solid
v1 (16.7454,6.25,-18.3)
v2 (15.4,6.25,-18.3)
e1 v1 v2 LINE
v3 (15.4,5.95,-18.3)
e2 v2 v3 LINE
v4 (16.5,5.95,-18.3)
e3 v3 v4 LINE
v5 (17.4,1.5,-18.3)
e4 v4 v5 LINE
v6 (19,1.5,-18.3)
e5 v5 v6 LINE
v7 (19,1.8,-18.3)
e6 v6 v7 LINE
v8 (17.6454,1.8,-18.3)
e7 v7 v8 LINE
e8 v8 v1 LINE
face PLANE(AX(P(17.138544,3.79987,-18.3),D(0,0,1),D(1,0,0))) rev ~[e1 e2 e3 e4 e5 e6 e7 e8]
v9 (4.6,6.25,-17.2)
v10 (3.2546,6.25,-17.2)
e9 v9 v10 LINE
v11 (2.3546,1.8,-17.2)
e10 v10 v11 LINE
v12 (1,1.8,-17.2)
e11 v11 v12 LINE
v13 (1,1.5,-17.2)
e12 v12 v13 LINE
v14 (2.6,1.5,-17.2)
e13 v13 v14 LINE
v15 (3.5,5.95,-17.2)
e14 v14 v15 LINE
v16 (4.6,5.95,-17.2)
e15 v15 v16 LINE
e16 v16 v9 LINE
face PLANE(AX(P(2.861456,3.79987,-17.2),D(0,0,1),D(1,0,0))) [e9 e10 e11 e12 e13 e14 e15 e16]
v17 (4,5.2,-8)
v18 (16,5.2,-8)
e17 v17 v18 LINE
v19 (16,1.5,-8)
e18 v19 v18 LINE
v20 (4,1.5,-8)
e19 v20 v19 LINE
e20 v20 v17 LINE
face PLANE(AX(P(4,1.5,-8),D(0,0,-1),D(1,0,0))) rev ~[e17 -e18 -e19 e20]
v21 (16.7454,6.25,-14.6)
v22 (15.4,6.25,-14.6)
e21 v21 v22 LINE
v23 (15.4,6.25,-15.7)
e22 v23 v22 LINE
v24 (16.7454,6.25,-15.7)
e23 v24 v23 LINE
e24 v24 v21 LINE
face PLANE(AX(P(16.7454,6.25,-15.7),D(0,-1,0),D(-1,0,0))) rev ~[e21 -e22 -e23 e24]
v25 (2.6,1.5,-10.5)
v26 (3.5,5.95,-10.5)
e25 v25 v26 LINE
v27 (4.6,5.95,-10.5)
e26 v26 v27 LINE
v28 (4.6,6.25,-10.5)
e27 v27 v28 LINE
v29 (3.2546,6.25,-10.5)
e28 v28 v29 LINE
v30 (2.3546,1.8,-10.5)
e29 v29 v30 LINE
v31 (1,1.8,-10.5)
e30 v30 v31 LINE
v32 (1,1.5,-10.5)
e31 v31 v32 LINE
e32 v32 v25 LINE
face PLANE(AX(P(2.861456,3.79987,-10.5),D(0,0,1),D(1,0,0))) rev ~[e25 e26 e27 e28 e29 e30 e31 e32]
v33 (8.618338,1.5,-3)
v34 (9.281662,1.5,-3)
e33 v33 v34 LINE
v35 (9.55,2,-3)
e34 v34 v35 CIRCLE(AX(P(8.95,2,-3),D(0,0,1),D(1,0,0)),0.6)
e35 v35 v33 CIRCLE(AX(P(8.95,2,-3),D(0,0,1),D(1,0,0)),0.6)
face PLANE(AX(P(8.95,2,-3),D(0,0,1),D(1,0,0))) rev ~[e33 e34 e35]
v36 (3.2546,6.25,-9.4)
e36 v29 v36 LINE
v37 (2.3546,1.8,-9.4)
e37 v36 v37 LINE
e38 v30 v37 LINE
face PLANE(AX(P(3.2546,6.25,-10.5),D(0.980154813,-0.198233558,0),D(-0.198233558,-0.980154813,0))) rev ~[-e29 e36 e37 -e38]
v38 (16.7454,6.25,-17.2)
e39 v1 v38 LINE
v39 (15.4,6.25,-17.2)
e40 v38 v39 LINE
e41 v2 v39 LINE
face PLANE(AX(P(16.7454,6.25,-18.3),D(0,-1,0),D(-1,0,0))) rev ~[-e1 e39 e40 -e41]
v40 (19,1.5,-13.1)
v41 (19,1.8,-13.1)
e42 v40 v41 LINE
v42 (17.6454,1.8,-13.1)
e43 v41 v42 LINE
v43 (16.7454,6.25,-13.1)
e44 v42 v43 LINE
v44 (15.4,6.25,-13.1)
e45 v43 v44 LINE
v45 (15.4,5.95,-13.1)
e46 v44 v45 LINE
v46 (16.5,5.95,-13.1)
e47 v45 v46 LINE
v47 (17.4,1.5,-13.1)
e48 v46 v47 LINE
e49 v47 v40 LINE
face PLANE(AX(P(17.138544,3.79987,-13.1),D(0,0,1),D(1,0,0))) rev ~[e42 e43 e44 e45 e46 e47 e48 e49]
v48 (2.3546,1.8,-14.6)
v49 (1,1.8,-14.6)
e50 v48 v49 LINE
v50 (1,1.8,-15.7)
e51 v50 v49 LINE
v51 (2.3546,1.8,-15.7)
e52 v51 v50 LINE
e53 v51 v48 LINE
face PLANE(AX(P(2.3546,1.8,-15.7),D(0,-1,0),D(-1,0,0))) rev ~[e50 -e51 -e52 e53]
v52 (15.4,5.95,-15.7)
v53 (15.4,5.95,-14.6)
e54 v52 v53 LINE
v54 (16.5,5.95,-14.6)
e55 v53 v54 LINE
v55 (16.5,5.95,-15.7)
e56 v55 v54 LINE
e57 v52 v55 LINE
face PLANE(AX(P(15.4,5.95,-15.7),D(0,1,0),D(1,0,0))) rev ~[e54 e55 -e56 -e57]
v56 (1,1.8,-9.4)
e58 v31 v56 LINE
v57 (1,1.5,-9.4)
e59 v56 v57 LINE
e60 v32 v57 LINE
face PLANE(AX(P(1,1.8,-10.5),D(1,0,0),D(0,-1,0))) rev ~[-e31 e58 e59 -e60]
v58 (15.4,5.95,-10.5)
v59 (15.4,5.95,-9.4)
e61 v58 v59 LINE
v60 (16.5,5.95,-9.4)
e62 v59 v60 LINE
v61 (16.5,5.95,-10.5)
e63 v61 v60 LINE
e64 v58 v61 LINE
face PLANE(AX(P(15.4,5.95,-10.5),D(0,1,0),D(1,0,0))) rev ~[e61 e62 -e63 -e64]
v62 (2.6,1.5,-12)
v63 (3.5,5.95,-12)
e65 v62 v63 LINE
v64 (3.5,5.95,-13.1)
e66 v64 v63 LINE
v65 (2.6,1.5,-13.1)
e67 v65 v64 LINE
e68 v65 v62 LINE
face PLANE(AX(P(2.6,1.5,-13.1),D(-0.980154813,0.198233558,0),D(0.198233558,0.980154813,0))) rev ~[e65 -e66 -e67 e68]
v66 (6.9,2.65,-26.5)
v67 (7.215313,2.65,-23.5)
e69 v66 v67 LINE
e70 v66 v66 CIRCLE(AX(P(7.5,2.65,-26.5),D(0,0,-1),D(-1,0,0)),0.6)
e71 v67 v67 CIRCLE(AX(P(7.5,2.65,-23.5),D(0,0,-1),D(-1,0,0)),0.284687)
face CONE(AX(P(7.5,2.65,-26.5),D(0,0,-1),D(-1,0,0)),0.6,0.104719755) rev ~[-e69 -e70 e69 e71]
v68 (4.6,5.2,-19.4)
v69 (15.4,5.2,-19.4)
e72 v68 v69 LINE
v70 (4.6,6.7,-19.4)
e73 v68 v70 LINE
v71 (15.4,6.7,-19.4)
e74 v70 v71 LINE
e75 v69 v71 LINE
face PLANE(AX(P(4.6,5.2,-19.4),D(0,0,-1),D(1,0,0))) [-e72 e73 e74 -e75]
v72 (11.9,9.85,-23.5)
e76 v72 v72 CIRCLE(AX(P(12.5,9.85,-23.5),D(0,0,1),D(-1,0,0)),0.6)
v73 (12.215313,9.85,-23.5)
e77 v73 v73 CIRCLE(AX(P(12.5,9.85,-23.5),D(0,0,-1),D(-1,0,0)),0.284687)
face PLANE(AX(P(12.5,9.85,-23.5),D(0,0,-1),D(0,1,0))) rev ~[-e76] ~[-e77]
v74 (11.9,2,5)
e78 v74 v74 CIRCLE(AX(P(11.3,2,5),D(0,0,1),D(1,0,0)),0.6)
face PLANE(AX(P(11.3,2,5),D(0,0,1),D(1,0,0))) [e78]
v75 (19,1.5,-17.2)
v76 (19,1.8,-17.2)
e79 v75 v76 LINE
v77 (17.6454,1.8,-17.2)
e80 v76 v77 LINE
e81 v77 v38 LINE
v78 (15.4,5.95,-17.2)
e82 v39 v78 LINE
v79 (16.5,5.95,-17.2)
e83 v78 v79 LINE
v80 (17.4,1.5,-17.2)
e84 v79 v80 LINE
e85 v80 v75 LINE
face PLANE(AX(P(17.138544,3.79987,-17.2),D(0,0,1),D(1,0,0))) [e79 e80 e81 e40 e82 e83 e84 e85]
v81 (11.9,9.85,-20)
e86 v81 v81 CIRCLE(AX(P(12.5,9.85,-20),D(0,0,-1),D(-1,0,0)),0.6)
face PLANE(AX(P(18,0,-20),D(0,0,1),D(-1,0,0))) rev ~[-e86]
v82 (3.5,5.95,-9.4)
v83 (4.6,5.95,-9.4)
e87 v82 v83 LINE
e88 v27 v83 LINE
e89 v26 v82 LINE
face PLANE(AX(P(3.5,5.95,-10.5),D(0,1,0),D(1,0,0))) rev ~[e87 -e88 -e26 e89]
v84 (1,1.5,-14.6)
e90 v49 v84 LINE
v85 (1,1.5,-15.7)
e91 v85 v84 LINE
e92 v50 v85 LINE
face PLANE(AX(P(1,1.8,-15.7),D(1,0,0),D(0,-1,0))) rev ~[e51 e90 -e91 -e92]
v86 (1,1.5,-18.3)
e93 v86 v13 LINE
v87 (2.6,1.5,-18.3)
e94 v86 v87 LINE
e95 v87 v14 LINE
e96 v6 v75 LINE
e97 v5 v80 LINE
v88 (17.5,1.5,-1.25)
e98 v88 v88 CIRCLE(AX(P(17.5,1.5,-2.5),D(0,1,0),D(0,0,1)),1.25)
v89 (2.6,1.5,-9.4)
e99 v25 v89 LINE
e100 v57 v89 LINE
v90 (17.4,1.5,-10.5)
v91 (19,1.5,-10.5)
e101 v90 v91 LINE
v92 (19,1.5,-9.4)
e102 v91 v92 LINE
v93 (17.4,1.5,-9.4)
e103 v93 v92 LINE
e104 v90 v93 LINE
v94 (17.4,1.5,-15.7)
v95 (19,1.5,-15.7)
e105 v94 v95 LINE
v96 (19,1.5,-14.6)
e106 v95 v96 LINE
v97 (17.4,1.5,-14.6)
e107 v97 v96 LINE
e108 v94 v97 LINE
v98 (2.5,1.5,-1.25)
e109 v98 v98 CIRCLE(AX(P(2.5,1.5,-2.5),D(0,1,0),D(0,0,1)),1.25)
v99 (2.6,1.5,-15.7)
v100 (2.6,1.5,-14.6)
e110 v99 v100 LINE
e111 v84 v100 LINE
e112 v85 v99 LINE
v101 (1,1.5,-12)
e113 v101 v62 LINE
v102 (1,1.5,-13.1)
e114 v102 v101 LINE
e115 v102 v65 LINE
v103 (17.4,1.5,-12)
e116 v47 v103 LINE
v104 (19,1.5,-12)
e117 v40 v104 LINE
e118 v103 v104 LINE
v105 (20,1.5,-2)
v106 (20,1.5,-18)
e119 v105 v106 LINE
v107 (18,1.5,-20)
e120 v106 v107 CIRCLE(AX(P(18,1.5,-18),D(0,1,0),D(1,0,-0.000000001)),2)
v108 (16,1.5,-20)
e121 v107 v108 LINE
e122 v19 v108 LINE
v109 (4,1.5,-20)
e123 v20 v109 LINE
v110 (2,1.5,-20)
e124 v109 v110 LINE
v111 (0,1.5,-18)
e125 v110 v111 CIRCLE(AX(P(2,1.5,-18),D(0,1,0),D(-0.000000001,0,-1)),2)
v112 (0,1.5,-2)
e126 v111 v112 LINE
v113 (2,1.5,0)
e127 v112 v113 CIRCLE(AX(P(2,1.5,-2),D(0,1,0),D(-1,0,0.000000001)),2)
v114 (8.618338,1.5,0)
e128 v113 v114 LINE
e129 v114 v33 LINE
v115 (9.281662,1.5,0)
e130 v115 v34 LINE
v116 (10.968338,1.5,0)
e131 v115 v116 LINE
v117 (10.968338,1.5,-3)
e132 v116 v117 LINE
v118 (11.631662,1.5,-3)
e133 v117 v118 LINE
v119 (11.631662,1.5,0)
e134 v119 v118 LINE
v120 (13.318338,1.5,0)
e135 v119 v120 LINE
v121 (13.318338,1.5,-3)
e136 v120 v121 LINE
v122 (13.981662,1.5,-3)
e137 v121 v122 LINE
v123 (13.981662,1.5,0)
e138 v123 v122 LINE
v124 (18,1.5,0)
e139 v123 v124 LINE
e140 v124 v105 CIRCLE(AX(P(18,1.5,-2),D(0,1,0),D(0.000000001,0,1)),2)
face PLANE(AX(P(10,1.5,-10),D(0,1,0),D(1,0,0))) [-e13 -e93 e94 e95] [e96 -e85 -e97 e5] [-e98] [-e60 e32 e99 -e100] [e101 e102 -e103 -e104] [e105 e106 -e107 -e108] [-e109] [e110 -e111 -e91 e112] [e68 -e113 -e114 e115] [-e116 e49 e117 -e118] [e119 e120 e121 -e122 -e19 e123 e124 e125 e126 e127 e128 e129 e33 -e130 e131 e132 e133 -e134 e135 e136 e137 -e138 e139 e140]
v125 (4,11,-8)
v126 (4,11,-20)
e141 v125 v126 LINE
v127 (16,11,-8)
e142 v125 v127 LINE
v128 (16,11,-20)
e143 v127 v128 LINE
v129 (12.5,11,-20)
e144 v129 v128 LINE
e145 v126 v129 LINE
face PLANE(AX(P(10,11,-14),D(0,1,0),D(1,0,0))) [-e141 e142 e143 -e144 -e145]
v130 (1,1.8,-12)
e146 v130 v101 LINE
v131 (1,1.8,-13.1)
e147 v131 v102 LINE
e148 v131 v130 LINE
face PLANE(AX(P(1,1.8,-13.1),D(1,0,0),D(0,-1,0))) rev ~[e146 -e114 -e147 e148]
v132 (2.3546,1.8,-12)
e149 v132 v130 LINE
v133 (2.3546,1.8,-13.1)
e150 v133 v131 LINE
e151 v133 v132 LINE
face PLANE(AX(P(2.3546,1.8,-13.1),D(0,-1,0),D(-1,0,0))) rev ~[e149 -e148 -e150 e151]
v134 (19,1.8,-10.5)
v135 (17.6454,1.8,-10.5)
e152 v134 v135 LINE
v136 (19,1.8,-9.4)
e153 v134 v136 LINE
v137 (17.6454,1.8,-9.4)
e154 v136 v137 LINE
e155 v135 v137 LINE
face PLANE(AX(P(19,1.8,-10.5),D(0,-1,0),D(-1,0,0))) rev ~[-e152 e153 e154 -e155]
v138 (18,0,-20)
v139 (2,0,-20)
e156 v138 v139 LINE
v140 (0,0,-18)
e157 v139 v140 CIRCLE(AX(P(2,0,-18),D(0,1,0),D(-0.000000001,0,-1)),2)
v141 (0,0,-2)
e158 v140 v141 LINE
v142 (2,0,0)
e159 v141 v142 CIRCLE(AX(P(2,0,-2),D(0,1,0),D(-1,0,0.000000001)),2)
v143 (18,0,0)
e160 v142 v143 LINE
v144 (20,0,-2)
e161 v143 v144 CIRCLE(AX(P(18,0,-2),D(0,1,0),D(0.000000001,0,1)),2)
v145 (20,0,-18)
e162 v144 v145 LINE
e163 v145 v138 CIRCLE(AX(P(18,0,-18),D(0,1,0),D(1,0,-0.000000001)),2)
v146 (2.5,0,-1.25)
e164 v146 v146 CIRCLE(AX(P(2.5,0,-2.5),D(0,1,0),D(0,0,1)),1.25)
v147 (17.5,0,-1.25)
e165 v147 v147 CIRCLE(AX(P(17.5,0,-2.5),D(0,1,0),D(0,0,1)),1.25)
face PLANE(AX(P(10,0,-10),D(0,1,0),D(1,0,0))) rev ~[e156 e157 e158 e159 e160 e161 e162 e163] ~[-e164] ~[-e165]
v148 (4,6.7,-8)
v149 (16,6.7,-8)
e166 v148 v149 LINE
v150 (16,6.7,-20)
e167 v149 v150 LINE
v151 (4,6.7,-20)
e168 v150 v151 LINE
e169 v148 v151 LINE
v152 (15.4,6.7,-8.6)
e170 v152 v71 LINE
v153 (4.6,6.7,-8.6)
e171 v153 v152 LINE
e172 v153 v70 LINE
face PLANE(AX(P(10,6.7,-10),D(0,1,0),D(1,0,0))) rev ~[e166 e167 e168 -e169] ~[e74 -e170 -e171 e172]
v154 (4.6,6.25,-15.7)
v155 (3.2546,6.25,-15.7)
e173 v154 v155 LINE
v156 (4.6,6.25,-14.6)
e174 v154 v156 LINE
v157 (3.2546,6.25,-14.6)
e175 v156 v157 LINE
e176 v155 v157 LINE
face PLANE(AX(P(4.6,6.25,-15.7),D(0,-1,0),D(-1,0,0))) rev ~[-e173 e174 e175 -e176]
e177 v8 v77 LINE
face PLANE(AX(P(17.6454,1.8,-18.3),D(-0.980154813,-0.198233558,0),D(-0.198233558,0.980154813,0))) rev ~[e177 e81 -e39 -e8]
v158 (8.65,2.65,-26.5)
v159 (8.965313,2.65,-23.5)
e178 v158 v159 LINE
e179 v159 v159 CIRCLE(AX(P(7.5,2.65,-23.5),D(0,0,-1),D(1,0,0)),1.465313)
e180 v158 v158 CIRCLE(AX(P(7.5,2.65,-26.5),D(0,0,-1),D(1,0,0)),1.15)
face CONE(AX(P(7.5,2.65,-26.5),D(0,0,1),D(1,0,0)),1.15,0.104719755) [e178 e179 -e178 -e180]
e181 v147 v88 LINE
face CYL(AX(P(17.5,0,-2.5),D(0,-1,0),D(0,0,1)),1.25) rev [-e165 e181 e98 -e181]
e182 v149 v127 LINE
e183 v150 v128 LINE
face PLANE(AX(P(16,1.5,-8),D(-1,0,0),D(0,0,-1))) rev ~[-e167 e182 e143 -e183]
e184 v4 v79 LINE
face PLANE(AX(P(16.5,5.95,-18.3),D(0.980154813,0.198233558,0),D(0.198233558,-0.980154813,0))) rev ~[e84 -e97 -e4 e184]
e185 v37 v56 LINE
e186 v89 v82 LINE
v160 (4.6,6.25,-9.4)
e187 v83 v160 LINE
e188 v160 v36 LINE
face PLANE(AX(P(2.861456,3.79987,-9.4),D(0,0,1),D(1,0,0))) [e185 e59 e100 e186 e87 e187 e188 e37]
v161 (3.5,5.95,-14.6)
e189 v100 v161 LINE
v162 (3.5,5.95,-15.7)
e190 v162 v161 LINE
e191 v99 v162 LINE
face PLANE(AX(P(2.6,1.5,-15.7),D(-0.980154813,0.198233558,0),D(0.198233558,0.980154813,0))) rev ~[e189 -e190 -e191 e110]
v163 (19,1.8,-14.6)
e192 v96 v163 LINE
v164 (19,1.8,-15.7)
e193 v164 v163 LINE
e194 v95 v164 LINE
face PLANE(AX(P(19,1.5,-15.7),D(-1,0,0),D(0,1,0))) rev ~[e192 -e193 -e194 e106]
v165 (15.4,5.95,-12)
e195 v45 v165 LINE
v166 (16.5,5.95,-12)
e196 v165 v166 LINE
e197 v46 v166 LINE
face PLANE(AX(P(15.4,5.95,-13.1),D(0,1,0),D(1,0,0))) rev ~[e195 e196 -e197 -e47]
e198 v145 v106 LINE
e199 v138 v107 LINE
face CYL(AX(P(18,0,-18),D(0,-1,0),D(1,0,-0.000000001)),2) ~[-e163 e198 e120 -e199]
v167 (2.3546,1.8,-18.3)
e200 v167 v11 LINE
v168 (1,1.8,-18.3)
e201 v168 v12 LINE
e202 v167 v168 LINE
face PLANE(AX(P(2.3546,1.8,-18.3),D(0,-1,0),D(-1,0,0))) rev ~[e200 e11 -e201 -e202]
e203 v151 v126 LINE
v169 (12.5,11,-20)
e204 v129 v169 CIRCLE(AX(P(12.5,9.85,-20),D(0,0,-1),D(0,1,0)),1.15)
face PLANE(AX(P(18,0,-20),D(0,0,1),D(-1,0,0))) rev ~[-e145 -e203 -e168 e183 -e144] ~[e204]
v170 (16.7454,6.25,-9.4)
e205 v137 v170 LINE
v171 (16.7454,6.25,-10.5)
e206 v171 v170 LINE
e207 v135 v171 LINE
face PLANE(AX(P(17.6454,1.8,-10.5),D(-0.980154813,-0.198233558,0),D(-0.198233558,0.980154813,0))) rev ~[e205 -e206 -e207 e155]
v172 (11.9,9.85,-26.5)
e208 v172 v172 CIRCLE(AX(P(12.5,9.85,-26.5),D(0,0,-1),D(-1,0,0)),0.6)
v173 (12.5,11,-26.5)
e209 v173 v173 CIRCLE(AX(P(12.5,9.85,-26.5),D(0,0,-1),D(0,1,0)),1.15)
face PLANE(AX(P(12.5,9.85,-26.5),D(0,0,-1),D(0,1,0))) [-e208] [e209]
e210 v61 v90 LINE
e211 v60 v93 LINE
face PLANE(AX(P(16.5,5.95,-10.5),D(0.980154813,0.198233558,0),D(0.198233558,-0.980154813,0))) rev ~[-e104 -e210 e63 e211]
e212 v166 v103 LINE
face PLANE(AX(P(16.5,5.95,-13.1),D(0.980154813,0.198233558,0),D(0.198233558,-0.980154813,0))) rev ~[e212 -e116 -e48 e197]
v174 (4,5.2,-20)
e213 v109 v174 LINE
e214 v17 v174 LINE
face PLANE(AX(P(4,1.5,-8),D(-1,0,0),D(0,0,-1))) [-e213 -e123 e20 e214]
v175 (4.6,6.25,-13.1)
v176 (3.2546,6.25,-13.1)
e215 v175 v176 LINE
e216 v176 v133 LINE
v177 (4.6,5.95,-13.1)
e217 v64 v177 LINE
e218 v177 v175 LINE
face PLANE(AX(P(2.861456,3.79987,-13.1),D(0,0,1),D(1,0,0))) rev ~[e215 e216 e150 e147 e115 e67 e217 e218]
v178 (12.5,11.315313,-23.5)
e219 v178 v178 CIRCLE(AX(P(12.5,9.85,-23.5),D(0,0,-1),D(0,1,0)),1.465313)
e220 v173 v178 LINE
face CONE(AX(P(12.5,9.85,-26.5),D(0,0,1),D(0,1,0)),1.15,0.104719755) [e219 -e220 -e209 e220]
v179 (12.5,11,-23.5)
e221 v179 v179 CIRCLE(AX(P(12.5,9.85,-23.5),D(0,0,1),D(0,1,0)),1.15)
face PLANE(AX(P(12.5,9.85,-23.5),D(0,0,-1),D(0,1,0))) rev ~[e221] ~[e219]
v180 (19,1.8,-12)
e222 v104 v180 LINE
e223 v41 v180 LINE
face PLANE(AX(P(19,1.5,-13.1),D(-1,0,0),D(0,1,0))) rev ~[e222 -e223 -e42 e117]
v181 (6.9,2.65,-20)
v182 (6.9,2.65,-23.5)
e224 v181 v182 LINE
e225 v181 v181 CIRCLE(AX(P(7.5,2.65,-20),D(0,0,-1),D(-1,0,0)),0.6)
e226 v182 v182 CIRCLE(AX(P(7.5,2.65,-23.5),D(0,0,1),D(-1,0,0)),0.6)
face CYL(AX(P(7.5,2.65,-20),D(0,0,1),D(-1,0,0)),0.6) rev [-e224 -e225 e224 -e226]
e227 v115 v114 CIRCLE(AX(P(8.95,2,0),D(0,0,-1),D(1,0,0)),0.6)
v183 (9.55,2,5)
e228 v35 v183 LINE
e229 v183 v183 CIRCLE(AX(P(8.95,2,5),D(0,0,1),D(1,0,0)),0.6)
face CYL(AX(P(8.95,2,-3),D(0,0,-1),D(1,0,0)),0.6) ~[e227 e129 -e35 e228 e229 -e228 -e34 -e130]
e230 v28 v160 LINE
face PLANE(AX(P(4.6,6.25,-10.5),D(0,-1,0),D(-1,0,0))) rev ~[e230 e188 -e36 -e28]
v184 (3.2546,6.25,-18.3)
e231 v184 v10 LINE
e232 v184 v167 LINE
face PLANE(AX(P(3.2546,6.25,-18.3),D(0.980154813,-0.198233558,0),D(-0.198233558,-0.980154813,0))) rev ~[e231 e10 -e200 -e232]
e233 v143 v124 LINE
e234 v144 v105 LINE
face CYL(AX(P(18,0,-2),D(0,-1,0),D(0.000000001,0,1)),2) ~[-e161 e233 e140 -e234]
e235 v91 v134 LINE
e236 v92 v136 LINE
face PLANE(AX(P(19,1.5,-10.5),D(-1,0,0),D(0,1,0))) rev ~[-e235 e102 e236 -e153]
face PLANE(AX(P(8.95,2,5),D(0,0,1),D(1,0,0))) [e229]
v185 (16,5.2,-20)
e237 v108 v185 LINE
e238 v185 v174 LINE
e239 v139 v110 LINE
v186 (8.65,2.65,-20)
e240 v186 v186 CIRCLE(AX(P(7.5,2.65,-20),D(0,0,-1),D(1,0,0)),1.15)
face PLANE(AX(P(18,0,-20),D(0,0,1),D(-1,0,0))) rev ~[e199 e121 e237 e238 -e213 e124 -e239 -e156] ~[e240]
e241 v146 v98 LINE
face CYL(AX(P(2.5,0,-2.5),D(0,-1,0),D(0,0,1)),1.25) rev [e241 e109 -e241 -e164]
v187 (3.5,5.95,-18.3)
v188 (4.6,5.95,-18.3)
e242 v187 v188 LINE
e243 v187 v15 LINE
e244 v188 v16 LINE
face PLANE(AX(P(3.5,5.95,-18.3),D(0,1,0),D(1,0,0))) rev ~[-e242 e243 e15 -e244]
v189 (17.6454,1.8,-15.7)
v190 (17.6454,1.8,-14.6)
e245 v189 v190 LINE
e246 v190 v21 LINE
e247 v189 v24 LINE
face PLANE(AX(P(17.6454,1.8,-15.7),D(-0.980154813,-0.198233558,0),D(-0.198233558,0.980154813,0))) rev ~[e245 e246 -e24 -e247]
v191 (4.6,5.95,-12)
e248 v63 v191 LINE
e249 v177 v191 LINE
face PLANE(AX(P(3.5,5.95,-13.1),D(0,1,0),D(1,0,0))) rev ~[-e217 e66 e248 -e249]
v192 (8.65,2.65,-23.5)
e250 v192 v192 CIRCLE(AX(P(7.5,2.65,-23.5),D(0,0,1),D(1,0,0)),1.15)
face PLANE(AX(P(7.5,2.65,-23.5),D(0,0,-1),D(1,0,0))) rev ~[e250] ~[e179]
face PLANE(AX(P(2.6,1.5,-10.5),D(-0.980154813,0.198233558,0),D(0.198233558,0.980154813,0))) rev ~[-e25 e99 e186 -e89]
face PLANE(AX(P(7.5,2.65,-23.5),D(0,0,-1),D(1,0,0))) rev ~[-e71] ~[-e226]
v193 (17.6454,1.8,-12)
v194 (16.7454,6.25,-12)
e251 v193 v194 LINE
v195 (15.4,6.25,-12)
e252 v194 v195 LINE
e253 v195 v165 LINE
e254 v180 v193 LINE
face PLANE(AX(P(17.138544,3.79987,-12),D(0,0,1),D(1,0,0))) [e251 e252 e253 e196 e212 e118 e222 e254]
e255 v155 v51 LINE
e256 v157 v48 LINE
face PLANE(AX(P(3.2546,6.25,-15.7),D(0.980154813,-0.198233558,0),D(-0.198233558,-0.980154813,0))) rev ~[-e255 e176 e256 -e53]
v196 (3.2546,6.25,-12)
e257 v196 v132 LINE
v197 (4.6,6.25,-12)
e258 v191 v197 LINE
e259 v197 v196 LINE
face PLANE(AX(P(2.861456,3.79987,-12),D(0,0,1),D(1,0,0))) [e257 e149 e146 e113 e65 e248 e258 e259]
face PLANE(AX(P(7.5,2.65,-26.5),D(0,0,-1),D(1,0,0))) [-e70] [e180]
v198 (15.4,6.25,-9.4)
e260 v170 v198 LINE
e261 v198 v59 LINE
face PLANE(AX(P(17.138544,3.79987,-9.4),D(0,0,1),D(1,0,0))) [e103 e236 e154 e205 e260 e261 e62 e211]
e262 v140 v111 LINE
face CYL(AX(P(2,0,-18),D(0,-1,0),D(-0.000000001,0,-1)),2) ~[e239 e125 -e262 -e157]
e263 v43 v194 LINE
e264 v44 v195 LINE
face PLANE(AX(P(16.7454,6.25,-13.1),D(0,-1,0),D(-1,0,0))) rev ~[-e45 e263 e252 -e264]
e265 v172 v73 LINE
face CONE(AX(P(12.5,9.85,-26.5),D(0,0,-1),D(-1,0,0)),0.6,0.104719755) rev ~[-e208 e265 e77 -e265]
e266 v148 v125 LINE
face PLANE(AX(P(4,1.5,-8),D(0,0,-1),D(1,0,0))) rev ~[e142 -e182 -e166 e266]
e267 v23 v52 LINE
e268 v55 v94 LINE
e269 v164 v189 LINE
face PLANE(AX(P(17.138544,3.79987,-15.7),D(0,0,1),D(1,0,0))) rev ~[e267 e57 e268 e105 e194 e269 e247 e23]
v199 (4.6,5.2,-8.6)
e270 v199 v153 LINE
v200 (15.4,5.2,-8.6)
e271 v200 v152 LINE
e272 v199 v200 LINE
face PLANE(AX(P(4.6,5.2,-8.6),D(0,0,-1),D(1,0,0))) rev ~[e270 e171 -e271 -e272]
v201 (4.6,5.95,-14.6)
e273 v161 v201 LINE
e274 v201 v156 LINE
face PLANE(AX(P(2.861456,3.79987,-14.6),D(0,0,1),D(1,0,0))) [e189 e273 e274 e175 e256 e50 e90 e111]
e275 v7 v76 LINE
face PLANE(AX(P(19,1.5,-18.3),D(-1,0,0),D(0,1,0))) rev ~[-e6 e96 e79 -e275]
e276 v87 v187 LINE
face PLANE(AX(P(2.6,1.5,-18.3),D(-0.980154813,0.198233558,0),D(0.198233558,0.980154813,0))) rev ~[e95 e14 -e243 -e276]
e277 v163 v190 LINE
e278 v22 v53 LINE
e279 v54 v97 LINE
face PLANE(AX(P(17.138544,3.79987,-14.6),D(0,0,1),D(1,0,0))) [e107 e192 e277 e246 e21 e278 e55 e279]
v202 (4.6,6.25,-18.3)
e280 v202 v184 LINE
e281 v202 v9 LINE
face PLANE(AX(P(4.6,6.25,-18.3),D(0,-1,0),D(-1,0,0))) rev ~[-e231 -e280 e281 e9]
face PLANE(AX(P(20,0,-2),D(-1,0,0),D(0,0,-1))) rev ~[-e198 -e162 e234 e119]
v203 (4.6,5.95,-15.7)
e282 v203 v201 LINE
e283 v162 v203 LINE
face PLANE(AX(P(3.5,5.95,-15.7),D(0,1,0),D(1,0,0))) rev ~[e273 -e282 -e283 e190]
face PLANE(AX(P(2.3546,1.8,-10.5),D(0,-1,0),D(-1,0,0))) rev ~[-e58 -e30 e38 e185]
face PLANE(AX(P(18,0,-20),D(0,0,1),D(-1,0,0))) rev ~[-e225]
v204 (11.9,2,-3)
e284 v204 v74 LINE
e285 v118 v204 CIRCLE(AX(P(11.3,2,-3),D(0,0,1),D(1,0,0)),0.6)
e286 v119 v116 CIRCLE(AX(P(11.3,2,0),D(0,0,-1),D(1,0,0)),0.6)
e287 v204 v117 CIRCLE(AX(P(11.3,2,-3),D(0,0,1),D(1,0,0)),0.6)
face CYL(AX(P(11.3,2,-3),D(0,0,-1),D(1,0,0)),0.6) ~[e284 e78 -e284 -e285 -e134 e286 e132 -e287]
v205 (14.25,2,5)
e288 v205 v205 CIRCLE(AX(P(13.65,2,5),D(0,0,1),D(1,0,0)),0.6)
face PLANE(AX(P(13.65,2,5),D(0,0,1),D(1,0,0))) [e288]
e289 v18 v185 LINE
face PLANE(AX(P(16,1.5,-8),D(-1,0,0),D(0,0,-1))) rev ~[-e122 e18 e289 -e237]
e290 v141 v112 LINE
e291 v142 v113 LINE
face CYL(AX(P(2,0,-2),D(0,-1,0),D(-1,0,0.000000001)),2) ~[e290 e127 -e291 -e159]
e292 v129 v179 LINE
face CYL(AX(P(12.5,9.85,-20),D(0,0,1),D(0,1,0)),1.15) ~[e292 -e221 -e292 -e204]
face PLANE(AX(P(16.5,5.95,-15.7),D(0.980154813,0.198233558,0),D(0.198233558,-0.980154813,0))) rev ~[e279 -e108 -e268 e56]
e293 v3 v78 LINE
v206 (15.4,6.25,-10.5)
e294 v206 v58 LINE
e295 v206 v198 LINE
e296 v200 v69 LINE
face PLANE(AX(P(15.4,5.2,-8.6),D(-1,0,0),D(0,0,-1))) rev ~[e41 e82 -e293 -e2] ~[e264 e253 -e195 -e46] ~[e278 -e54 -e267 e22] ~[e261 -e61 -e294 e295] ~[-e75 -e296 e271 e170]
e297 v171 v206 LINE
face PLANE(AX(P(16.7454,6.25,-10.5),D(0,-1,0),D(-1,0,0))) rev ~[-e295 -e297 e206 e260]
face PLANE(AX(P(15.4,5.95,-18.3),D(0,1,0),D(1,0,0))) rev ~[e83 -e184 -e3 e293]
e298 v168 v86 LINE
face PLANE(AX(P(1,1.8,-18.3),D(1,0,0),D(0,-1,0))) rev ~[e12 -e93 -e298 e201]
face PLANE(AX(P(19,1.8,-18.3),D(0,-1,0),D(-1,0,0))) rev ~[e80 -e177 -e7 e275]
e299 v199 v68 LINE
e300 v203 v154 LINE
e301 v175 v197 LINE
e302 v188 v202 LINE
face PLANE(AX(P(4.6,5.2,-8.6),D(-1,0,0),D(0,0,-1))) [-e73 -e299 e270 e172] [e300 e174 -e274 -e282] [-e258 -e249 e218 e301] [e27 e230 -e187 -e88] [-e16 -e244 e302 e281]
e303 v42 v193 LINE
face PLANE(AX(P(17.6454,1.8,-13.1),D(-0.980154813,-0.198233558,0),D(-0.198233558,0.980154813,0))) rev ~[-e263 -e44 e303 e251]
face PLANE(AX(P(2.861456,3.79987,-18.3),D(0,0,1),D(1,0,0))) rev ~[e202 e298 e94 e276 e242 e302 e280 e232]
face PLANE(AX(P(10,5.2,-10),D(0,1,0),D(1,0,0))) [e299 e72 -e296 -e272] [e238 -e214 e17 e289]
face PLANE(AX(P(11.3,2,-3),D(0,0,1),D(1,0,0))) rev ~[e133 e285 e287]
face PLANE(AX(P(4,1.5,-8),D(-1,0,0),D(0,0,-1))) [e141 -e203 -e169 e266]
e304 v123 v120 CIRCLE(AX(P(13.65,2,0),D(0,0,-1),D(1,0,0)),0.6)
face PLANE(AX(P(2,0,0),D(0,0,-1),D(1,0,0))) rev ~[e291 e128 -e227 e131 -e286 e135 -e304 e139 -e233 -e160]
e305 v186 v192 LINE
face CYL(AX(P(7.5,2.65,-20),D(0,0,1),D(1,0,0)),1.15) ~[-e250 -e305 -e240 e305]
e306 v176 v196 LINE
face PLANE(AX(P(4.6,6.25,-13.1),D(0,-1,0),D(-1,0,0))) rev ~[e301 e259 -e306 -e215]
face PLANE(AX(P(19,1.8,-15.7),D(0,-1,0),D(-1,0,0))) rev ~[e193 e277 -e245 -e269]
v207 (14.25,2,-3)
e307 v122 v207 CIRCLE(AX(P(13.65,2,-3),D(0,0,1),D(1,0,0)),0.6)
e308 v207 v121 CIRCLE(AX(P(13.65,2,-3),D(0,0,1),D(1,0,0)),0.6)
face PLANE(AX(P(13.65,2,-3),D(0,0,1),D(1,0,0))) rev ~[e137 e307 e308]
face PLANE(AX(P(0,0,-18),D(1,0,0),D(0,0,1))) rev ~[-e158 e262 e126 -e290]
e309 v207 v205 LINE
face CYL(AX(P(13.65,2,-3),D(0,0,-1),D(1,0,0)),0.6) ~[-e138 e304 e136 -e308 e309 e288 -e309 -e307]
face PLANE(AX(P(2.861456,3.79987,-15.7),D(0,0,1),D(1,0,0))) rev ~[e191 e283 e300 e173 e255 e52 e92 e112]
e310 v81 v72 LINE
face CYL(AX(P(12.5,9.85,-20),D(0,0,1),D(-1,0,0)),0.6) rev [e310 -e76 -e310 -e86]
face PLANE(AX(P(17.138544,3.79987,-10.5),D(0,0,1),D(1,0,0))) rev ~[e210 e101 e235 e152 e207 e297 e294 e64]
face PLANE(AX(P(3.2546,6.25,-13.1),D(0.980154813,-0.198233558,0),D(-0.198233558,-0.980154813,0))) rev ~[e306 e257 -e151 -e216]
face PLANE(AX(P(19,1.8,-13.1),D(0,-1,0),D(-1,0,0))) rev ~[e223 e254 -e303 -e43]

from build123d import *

# Parameters (mm, degrees)
SKETCH_1_R                = 1.25
EXTRUDE_1_DEPTH           = 1.5
SKETCH_2_W                = 12
SKETCH_2_H                = 12
EXTRUDE_2_DEPTH           = 9.5
CUT_EXTRUDE_START         = 3.7
SKETCH_3_OUTSIDE_W        = 28.07
SKETCH_3_OUTSIDE_H        = 28.07
SKETCH_3_OUTSIDE_W_2      = 10.8
SKETCH_3_OUTSIDE_H_2      = 10.8
CUT_EXTRUDE_1_DEPTH       = 1.5
SKETCH_4_R                = 1.15
SKETCH_4_R_2              = 0.6
EXTRUDE_3_DEPTH           = 6.5
SKETCH_5_R                = 1.15
SKETCH_5_R_2              = 0.6
EXTRUDE_4_DEPTH           = 3
EXTRUDE_4_DRAFT           = 6
EXTRUDE_4_PROFILE_2_DEPTH = 3
EXTRUDE_4_PROFILE_2_DRAFT = 6
EXTRUDE_START             = -1.7
EXTRUDE_1_2_DEPTH         = 1.1
PATTERN_LINEAR_1_COUNT    = 4
PATTERN_LINEAR_1_PITCH    = 2.6
EXTRUDE_5_DEPTH           = 5
EXTRUDE_5_DEPTH_BACK      = 3
SKETCH_7_R                = 0.6


with BuildPart() as part:
    # Эскиз1 → Extrude 1 (new body)
    with BuildSketch(Plane(origin=(0, 0, 0), x_dir=(1, 0, 0), z_dir=(0, 1, 0))):
        with BuildLine():
            Line((2, 0), (18, 0))
            ThreePointArc((18, 0), (19.414213562, 0.585786438), (20, 2))
            Line((20, 2), (20, 18))
            ThreePointArc((20, 18), (19.414213562, 19.414213562), (18, 20))
            Line((18, 20), (2, 20))
            ThreePointArc((2, 20), (0.585786438, 19.414213562), (0, 18))
            Line((0, 18), (0, 2))
            ThreePointArc((0, 2), (0.585786438, 0.585786438), (2, 0))
        make_face()
        with Locations(Location((2.5, 2.5, 0), (0, 0, 270))):
            Circle(SKETCH_1_R, mode=Mode.SUBTRACT)
        with Locations(Location((17.5, 2.5, 0), (0, 0, 270))):
            Circle(SKETCH_1_R, mode=Mode.SUBTRACT)
    extrude(amount=EXTRUDE_1_DEPTH)

    # Эскиз2 → Бобышка-Вытянуть2 (add)
    with BuildSketch(Plane(origin=(0, 1.5, 0), x_dir=(1, 0, 0), z_dir=(0, 1, 0))):
        with Locations((10, 14)):
            Rectangle(SKETCH_2_W, SKETCH_2_H)
    extrude(amount=EXTRUDE_2_DEPTH)

    # Эскиз3 outside → Вырез-Вытянуть1 (cut)
    with BuildSketch(Plane(origin=(0, 1.5, 0), x_dir=(1, 0, 0), z_dir=(0, 1, 0)).offset(CUT_EXTRUDE_START)):
        with Locations((10, 10)):
            Rectangle(SKETCH_3_OUTSIDE_W, SKETCH_3_OUTSIDE_H)
        with Locations((10, 14)):
            Rectangle(SKETCH_3_OUTSIDE_W_2, SKETCH_3_OUTSIDE_H_2, mode=Mode.SUBTRACT)
    extrude(amount=CUT_EXTRUDE_1_DEPTH, mode=Mode.SUBTRACT)

    # Эскиз4 → Бобышка-Вытянуть3 (add)
    # profile 1 of 2: a face of its own
    with BuildSketch(Plane(origin=(0, 0, -20), x_dir=(-1, 0, 0), z_dir=(0, 0, -1))):
        with Locations(Location((-12.5, 9.85, 0), (0, 0, 90))):
            Circle(SKETCH_4_R)
        with Locations((-12.5, 9.85)):
            Circle(SKETCH_4_R_2, mode=Mode.SUBTRACT)
    # profile 2 of 2: a face of its own
    with BuildSketch(Plane(origin=(0, 0, -20), x_dir=(-1, 0, 0), z_dir=(0, 0, -1))):
        with Locations(Location((-7.5, 2.65, 0), (0, 0, 180))):
            Circle(SKETCH_4_R)
        with Locations((-7.5, 2.65)):
            Circle(SKETCH_4_R_2, mode=Mode.SUBTRACT)
    extrude(amount=EXTRUDE_3_DEPTH)


with BuildPart() as extrude_4_tool:
    # Эскиз5 → Бобышка-Вытянуть4 (with draft: the straight prism first)
    with BuildSketch(Plane(origin=(0, 0, -26.5), x_dir=(-1, 0, 0), z_dir=(0, 0, -1))):
        with Locations(Location((-7.5, 2.65, 0), (0, 0, 180))):
            Circle(SKETCH_5_R)
        with Locations((-7.5, 2.65)):
            Circle(SKETCH_5_R_2, mode=Mode.SUBTRACT)
    extrude(amount=-EXTRUDE_4_DEPTH)
    # Бобышка-Вытянуть4: the draft: its side faces are tilted about the plane it starts from
    extrude_4_sides = [extrude_4_tool.faces().sort_by_distance(p)[0] for p in [
        (6.35, 2.65, -25),
        (8.1, 2.65, -25),
    ]]
    draft(extrude_4_sides, Plane(origin=(0, 0, -26.5), x_dir=(-1, 0, 0), z_dir=(0, 0, -1)), EXTRUDE_4_DRAFT)


with BuildPart() as part_1:
    add(part.part)

    # Бобышка-Вытянуть4: add extrude_4_tool
    add(extrude_4_tool.part)


with BuildPart() as extrude_4_profile_2_tool:
    # Эскиз5 → Бобышка-Вытянуть4 profile 2 (with draft: the straight prism first)
    with BuildSketch(Plane(origin=(0, 0, -26.5), x_dir=(-1, 0, 0), z_dir=(0, 0, -1))):
        with Locations(Location((-12.5, 9.85, 0), (0, 0, 90))):
            Circle(SKETCH_5_R)
        with Locations((-12.5, 9.85)):
            Circle(SKETCH_5_R_2, mode=Mode.SUBTRACT)
    extrude(amount=-EXTRUDE_4_PROFILE_2_DEPTH)
    # Бобышка-Вытянуть4 profile 2: the draft: its side faces are tilted about the plane it starts from
    extrude_4_profile_2_sides = [extrude_4_profile_2_tool.faces().sort_by_distance(p)[0] for p in [
        (12.5, 8.7, -25),
        (13.1, 9.85, -25),
    ]]
    draft(extrude_4_profile_2_sides, Plane(origin=(0, 0, -26.5), x_dir=(-1, 0, 0), z_dir=(0, 0, -1)), EXTRUDE_4_PROFILE_2_DRAFT)


with BuildPart() as part_2:
    add(part_1.part)

    # Бобышка-Вытянуть4 profile 2: add extrude_4_profile_2_tool
    add(extrude_4_profile_2_tool.part)

    # Эскиз6 → Extrude 1 2 (add)
    with BuildSketch(Plane(origin=(0, 0, -20), x_dir=(-1, 0, 0), z_dir=(0, 0, -1)).offset(EXTRUDE_START)):
        Polygon((-15.4, 5.95), (-16.5, 5.95), (-17.4, 1.5), (-19, 1.5), (-19, 1.8), (-17.645399941, 1.8), (-16.745399941, 6.25), (-15.4, 6.25), align=None)
        Polygon((-1, 1.5), (-2.6, 1.5), (-3.5, 5.95), (-4.6, 5.95), (-4.6, 6.25), (-3.254600059, 6.25), (-2.354600059, 1.8), (-1, 1.8), align=None)
    extrude_1_2 = extrude(amount=-EXTRUDE_1_2_DEPTH)

    # Линейный массив1: Extrude 1 2 ×4
    with Locations(*[(0, 0, i * PATTERN_LINEAR_1_PITCH) for i in range(1, PATTERN_LINEAR_1_COUNT)]):
        add(extrude_1_2)

    # Эскиз7 → Бобышка-Вытянуть5 (add, two sides: drawn at the far end of the back side and taken through both)
    with BuildSketch(Plane.XY.offset(-EXTRUDE_5_DEPTH_BACK)):
        with Locations((8.95, 2)):
            Circle(SKETCH_7_R)
        with Locations((11.3, 2)):
            Circle(SKETCH_7_R)
        with Locations((13.65, 2)):
            Circle(SKETCH_7_R)
    extrude(amount=EXTRUDE_5_DEPTH + EXTRUDE_5_DEPTH_BACK)


solid = part_2.part
